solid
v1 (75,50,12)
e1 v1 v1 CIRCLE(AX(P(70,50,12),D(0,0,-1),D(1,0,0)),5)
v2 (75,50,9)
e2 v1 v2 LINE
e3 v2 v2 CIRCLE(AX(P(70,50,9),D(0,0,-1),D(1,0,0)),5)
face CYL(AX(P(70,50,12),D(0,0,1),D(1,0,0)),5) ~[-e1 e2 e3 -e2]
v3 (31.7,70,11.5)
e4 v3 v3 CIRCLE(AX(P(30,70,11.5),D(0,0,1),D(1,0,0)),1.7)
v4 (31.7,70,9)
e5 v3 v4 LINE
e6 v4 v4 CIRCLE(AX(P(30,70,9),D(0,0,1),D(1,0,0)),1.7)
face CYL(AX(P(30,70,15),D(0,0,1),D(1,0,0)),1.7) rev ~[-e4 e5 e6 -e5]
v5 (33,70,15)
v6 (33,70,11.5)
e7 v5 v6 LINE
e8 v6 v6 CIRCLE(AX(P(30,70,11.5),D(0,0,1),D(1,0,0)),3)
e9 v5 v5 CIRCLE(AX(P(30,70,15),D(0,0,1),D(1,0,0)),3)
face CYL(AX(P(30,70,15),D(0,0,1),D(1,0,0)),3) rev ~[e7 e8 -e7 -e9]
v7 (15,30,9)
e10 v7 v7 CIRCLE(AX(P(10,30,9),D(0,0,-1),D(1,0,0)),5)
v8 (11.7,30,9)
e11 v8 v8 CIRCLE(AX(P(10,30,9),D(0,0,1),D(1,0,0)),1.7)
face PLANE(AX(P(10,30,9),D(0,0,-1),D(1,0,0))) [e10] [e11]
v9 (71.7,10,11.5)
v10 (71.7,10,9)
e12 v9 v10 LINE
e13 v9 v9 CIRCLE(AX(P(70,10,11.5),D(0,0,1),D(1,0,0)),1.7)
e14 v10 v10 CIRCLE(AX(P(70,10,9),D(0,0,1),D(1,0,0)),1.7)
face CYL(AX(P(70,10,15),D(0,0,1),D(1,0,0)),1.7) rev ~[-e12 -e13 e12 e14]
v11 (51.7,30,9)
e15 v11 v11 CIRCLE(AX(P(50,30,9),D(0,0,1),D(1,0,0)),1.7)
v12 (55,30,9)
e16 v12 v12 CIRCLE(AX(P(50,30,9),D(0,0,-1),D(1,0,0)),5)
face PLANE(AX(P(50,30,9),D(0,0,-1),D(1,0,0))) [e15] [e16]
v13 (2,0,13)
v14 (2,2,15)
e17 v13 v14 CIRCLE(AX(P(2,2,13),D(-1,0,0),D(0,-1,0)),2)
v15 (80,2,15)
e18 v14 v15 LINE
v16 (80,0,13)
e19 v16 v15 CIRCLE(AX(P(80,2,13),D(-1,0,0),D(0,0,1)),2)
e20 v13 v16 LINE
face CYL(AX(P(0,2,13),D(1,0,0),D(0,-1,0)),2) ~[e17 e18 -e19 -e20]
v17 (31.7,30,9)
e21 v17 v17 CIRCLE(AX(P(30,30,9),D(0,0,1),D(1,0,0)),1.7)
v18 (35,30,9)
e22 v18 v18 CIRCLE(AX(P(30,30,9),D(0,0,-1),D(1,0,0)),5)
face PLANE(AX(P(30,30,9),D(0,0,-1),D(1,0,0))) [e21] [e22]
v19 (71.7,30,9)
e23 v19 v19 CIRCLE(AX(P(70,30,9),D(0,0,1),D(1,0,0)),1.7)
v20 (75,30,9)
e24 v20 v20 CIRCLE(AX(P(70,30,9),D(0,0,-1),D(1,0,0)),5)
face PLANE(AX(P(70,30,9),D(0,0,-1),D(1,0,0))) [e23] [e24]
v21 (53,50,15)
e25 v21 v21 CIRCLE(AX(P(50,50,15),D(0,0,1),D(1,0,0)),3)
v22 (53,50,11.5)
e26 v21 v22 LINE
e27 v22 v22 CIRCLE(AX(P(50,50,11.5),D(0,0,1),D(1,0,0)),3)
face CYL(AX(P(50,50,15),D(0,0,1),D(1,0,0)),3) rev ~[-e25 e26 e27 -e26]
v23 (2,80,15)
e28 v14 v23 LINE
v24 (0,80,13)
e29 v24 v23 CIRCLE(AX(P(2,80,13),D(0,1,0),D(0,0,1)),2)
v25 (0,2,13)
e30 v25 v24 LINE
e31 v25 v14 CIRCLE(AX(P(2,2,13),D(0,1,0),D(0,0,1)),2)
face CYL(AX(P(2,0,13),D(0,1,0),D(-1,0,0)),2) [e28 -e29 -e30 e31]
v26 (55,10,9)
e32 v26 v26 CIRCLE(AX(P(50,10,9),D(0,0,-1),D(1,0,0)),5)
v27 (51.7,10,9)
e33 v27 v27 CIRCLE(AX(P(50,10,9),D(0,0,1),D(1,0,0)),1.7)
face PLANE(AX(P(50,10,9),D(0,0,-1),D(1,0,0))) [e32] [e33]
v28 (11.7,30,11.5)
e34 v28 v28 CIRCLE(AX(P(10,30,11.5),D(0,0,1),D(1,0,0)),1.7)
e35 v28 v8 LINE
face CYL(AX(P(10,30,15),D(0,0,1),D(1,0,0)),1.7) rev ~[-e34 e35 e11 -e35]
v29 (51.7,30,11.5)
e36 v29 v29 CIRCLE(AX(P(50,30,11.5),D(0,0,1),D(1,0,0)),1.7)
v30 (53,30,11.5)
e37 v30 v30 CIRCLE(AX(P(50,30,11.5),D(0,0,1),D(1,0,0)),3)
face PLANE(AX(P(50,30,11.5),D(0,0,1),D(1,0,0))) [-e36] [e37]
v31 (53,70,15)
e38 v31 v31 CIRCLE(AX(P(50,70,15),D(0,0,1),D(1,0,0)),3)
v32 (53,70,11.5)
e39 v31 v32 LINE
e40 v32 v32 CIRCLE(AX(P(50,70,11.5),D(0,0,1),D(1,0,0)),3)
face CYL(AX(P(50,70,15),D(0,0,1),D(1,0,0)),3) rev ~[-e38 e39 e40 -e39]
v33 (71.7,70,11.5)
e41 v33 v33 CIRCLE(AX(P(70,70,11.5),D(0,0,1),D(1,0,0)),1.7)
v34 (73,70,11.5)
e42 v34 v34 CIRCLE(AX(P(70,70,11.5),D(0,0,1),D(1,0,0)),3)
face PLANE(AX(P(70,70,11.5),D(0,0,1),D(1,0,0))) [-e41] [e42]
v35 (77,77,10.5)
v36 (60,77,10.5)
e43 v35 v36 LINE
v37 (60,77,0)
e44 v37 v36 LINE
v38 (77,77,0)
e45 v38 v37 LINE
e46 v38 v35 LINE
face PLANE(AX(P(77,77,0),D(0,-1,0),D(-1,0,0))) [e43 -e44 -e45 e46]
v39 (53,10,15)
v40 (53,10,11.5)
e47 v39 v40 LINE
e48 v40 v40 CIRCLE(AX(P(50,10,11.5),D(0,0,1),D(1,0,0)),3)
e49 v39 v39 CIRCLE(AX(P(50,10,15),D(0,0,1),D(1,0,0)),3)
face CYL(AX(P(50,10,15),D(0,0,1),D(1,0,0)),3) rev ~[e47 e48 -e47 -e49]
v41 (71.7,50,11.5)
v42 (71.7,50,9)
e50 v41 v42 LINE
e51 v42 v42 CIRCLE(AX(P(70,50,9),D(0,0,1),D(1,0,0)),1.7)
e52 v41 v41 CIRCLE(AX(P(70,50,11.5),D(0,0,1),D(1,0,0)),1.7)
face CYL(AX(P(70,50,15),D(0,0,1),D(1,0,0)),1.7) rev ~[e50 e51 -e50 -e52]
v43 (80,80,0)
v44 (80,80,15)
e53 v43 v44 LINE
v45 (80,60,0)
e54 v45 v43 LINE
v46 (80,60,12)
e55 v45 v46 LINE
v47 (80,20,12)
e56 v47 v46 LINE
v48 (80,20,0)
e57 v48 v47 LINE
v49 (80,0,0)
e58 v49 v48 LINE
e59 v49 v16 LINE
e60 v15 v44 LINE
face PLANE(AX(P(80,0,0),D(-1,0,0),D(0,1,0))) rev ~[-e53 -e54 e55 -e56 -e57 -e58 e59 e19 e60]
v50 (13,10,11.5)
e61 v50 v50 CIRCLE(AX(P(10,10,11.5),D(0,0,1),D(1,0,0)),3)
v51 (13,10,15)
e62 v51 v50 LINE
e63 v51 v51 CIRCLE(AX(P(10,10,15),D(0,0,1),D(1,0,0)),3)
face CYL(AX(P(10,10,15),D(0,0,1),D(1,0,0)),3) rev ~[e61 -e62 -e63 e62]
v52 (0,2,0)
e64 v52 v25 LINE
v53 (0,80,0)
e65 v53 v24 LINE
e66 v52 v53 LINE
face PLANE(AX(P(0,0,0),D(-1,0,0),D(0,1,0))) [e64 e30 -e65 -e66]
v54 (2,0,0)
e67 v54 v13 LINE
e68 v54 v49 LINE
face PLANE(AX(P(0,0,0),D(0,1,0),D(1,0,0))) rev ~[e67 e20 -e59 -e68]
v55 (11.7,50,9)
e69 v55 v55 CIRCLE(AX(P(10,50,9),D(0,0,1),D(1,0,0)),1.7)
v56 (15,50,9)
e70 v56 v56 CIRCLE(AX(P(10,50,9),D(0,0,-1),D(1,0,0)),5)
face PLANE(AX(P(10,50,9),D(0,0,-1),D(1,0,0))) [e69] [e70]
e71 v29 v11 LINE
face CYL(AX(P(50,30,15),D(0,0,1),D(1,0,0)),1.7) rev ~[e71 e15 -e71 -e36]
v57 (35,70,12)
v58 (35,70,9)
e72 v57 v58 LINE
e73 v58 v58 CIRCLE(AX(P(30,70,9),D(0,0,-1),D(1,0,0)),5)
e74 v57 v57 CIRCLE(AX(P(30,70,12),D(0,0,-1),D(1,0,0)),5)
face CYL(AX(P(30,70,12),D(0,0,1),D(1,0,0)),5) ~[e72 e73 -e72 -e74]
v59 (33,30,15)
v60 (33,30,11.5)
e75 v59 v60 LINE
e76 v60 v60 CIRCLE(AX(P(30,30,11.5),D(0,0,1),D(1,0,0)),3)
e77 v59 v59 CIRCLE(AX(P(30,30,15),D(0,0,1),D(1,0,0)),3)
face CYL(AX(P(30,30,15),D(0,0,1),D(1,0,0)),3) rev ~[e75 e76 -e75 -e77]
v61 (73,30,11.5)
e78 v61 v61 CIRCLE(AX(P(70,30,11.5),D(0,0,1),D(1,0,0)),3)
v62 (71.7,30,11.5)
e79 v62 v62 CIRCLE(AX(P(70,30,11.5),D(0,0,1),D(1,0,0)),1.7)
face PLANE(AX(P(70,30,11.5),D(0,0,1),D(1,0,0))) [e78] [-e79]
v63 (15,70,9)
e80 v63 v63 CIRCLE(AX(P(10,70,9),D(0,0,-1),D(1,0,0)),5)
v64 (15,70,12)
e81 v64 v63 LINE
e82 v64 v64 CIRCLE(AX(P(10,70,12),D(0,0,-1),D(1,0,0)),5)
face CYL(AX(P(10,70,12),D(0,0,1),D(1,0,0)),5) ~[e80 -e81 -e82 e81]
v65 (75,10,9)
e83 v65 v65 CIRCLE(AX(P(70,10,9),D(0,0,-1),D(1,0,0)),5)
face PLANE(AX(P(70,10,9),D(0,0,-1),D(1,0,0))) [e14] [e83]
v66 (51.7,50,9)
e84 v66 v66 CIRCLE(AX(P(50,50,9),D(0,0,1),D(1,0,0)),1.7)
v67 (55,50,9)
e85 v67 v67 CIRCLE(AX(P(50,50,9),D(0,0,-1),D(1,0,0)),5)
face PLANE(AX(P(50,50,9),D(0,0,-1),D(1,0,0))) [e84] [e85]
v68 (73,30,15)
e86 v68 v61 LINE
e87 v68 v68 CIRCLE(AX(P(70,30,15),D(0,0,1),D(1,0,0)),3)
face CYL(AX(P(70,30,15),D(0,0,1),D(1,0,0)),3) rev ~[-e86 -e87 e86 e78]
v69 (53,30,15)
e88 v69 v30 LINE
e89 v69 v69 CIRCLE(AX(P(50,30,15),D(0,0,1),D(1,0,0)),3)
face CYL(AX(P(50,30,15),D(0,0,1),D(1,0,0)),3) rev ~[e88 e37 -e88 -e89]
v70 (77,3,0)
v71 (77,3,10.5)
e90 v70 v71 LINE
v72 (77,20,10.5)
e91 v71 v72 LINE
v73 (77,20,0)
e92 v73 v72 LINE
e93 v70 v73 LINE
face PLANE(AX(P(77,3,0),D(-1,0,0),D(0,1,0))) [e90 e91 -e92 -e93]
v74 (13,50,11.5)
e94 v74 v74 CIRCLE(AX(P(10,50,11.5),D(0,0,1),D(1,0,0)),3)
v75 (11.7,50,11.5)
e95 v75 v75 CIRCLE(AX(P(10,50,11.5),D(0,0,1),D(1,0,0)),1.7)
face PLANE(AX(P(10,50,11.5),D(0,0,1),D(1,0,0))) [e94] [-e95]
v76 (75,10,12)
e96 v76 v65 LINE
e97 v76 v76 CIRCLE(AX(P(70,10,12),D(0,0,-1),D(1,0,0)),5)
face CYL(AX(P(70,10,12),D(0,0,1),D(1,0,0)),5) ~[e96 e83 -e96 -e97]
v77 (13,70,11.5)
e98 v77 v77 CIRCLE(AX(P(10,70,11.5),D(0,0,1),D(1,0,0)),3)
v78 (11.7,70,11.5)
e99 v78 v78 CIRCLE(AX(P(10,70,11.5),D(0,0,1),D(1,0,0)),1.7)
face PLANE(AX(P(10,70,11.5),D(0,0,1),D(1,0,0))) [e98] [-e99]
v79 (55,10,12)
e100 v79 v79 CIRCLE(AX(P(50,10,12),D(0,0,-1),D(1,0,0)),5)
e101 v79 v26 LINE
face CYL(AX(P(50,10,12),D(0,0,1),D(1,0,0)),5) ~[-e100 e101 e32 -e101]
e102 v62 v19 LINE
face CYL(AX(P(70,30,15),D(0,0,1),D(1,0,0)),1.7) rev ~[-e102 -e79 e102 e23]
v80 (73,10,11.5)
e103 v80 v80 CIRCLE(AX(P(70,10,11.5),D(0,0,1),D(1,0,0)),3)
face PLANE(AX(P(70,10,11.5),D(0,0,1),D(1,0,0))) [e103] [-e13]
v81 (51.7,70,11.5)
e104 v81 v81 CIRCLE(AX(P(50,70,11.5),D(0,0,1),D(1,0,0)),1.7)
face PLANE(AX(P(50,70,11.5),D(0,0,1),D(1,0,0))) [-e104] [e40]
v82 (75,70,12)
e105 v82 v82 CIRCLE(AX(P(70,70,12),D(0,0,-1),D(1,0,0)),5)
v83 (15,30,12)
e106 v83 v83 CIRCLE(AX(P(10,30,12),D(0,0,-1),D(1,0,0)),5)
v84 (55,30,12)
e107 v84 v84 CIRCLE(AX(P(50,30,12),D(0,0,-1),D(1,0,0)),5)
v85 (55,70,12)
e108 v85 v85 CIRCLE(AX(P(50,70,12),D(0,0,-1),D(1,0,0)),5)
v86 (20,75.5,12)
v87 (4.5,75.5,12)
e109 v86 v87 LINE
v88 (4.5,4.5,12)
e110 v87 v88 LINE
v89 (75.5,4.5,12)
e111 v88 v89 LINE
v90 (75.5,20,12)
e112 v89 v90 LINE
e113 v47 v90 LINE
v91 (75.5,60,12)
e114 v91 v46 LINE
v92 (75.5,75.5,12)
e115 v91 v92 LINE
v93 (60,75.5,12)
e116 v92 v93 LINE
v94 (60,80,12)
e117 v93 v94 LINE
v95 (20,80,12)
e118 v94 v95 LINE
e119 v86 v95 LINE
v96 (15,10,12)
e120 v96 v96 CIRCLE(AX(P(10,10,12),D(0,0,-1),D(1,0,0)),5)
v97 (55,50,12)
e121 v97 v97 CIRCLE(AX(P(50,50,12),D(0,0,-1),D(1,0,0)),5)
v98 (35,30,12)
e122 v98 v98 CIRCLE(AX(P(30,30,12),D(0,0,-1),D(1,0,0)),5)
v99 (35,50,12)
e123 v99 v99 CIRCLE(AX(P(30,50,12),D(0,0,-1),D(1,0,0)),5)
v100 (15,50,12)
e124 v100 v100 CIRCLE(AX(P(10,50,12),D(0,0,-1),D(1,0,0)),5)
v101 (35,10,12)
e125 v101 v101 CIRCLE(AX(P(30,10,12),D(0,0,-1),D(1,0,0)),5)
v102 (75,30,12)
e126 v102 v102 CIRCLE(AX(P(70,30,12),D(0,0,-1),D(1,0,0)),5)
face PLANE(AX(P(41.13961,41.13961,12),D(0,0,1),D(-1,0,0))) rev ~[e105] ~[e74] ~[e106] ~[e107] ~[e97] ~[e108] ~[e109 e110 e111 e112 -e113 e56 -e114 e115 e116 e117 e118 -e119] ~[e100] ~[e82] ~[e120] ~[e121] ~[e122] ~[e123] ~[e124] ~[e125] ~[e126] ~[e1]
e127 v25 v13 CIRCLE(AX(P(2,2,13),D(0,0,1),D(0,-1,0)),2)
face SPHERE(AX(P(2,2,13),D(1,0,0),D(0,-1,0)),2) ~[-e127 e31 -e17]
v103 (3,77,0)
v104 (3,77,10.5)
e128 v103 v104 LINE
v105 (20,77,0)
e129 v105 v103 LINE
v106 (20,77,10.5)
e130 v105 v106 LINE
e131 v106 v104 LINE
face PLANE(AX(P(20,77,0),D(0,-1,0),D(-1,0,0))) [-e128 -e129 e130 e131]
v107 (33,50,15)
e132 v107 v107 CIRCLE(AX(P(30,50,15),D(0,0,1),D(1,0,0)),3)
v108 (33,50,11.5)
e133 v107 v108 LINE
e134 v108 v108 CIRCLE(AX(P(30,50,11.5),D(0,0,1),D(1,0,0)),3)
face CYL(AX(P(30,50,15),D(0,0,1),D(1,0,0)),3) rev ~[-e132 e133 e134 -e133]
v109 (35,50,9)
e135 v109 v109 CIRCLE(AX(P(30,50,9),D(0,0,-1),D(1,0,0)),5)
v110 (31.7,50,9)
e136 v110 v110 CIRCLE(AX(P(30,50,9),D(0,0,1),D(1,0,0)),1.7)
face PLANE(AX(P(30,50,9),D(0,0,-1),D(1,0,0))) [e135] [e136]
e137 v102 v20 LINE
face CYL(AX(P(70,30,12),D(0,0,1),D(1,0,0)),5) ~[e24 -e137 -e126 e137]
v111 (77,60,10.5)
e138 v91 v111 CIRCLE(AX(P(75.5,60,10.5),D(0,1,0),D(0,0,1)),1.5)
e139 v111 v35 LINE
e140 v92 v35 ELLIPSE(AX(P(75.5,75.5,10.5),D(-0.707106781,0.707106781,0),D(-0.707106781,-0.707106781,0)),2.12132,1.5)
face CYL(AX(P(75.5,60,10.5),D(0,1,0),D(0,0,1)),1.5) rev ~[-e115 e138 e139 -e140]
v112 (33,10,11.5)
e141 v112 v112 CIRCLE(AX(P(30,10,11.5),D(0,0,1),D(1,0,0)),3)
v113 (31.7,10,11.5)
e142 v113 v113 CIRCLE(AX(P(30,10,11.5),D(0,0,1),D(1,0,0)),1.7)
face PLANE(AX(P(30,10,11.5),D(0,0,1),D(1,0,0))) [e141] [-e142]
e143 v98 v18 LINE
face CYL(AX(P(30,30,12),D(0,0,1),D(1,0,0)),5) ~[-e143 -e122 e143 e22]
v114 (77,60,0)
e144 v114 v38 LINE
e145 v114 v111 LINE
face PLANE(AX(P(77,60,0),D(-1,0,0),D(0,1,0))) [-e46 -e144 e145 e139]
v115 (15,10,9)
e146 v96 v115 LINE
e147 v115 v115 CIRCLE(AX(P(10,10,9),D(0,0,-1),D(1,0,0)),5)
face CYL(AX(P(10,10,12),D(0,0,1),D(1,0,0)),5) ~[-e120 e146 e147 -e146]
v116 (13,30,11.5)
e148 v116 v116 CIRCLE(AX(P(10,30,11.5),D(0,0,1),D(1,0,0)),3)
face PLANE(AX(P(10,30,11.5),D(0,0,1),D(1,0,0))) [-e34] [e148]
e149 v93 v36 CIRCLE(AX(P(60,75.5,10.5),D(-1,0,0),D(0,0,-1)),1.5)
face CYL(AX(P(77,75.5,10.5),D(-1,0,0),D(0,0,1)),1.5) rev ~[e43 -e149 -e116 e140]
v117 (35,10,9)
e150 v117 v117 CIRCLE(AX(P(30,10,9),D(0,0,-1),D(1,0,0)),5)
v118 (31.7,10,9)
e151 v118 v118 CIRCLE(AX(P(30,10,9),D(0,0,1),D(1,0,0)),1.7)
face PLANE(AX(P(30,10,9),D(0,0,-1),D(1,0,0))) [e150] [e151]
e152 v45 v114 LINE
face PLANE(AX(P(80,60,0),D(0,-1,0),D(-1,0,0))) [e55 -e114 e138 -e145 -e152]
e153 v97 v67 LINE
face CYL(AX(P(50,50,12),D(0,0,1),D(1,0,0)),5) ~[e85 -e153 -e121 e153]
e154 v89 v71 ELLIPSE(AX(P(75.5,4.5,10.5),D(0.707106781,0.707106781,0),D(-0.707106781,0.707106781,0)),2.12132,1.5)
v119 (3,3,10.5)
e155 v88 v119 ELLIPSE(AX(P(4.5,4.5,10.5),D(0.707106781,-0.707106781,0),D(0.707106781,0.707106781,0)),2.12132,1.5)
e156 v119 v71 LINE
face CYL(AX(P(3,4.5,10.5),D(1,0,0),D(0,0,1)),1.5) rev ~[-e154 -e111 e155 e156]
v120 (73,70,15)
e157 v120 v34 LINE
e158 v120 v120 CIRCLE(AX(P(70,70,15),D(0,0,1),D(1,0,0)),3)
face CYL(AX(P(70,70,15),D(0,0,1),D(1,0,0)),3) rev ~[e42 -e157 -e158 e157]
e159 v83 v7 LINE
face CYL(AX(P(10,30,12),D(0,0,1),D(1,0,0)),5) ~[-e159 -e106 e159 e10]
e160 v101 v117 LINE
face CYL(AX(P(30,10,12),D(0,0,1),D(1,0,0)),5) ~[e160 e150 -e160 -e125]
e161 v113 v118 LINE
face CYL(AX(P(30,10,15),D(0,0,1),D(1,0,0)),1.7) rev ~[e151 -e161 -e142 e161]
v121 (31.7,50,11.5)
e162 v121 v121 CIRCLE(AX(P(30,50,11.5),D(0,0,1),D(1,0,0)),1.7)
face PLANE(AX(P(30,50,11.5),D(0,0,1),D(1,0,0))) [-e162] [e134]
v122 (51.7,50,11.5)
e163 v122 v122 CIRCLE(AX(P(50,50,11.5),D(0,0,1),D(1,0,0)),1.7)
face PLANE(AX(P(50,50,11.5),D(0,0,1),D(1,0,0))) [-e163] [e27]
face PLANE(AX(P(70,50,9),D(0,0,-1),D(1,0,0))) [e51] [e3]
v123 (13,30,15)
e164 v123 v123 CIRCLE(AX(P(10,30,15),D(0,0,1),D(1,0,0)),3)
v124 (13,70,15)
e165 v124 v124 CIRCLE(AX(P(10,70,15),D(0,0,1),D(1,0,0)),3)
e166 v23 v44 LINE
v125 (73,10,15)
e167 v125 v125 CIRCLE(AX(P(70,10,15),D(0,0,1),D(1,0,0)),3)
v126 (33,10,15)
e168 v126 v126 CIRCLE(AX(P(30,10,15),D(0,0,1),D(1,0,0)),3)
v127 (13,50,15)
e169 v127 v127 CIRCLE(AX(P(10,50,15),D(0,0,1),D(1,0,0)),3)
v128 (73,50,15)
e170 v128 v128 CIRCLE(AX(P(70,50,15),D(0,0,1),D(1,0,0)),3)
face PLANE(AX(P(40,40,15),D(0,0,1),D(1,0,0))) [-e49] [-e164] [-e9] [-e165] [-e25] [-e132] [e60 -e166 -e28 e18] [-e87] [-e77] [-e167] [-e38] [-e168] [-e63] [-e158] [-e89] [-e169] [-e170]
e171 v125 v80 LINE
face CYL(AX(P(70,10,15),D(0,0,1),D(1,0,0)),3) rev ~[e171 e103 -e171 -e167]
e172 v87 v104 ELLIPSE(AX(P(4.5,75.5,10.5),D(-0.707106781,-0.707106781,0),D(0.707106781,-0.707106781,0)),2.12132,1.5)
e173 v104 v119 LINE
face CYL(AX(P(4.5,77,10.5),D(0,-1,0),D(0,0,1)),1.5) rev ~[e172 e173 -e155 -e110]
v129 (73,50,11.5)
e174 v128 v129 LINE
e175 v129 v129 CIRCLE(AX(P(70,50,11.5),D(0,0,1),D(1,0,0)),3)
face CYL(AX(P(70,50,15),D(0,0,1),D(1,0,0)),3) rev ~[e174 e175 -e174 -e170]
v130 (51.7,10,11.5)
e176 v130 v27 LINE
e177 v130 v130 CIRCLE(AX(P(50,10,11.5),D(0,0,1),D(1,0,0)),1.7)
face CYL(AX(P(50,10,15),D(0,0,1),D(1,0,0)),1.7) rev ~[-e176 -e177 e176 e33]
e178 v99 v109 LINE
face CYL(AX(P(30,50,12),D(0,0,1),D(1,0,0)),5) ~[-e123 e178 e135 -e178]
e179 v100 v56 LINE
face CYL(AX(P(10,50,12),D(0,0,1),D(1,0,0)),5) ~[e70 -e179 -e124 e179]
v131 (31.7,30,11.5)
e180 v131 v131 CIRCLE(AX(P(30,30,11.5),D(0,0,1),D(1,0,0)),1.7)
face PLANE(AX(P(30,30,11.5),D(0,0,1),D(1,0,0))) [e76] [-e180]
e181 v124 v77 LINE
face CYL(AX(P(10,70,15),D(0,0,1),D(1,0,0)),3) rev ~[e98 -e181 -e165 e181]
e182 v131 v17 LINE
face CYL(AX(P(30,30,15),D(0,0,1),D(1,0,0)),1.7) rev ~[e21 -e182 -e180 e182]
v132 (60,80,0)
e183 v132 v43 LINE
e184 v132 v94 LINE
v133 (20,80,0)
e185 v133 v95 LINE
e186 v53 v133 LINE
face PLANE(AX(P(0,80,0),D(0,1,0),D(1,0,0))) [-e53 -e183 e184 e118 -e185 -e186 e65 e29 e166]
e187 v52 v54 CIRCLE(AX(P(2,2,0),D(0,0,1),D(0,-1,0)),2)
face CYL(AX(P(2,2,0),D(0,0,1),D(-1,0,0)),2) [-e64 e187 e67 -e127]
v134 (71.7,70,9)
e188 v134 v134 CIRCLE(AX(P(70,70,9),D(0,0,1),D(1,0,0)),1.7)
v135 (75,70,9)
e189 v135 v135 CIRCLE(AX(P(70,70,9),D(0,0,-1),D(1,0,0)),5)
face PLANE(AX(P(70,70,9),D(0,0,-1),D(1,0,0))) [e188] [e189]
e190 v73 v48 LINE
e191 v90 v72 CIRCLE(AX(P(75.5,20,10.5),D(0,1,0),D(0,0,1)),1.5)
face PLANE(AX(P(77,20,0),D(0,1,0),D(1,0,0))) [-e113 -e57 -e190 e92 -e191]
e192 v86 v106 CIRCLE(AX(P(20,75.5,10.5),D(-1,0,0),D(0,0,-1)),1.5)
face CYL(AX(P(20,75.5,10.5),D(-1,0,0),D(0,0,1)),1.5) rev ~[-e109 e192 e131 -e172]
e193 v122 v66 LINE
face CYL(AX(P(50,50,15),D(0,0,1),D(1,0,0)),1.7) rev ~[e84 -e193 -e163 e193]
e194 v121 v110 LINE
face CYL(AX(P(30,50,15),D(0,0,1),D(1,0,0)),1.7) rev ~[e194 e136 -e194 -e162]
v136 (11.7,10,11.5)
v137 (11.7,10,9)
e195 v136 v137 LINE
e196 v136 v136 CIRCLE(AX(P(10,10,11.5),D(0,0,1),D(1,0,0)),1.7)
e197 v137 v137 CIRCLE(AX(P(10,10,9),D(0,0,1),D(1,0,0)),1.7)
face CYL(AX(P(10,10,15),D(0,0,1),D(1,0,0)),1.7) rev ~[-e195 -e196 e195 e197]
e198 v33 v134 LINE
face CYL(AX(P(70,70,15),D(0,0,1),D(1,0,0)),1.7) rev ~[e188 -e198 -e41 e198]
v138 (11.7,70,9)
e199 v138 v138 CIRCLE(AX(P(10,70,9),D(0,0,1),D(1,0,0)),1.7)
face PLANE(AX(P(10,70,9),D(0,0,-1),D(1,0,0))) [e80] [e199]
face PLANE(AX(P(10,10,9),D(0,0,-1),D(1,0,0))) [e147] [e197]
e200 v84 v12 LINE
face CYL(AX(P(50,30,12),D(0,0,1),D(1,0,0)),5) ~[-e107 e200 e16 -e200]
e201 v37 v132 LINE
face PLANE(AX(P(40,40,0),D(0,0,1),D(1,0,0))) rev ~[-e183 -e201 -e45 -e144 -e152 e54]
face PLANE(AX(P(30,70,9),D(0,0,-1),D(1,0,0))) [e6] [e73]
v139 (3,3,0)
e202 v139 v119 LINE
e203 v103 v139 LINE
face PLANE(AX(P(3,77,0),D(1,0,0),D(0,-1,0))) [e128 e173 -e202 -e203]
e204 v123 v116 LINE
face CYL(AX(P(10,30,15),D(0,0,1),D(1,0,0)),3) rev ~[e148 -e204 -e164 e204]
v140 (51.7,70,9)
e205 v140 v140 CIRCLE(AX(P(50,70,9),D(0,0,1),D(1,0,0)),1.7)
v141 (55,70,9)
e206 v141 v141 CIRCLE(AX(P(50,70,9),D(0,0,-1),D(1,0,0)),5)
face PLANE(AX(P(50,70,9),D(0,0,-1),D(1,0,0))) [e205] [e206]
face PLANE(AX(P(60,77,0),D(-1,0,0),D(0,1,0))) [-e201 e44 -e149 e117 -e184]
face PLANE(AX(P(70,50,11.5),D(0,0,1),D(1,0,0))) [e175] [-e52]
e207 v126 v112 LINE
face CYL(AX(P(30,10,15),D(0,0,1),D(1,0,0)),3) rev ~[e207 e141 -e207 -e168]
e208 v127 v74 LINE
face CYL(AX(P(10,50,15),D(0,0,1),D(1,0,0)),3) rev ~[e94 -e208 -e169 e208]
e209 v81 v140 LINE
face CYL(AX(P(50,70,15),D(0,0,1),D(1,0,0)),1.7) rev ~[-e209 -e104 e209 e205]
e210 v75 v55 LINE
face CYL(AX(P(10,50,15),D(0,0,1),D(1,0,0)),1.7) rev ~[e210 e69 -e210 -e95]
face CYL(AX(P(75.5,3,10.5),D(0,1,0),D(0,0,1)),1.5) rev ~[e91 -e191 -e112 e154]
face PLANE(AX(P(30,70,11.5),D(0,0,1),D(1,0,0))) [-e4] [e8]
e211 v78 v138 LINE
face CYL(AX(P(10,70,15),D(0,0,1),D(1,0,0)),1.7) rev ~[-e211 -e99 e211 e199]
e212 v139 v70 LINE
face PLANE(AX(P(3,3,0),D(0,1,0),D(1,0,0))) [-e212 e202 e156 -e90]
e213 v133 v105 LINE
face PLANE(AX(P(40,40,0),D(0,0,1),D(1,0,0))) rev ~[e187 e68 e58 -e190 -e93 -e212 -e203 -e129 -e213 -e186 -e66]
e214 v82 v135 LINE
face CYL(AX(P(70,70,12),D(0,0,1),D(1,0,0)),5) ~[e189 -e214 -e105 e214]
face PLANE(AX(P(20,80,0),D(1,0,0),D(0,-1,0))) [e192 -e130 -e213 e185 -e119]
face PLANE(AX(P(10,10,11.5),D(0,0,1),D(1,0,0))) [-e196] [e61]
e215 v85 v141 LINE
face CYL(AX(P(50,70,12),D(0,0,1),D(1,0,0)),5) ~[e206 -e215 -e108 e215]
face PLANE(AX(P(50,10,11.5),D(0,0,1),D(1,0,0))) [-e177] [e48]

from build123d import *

# Parameters (mm, degrees)
SKETCH_W        = 80
SKETCH_H        = 80
PAD_DEPTH       = 15
POCKET_DEPTH    = 12
SKETCH006_R     = 5
PAD001_DEPTH    = 3
SKETCH004_R     = 1.7
POCKET001_DEPTH = 10
SKETCH009_R     = 3
POCKET002_DEPTH = 3.5
FILLET_R        = 2
FILLET001_R     = 1.5


with BuildPart() as part:
    # Sketch → Pad (new body)
    with BuildSketch(Plane.XY):
        with Locations((40, 40)):
            Rectangle(SKETCH_W, SKETCH_H)
    extrude(amount=PAD_DEPTH)

    # Sketch003 (on Face5 of Pad) → Pocket (cut)
    with BuildSketch(Plane(origin=(0, 0, 0), x_dir=(1, 0, 0), z_dir=(0, 0, -1))):
        Polygon((3, -3), (77, -3), (77, -20), (80, -20), (80, -60), (77, -60), (77, -77), (60, -77), (60, -80), (20, -80), (20, -77), (3, -77), align=None)
    extrude(amount=-POCKET_DEPTH, mode=Mode.SUBTRACT)

    # Sketch006 (on Face4 of Pocket) → Pad001 (join)
    with BuildSketch(Plane(origin=(0, 0, 12), x_dir=(1, 0, 0), z_dir=(0, 0, -1))):
        with Locations((10, -10)):
            Circle(SKETCH006_R)
        with Locations((30, -10)):
            Circle(SKETCH006_R)
        with Locations((50, -10)):
            Circle(SKETCH006_R)
        with Locations((70, -10)):
            Circle(SKETCH006_R)
        with Locations((10, -30)):
            Circle(SKETCH006_R)
        with Locations((30, -30)):
            Circle(SKETCH006_R)
        with Locations((50, -30)):
            Circle(SKETCH006_R)
        with Locations((70, -30)):
            Circle(SKETCH006_R)
        with Locations((10, -50)):
            Circle(SKETCH006_R)
        with Locations((30, -50)):
            Circle(SKETCH006_R)
        with Locations((50, -50)):
            Circle(SKETCH006_R)
        with Locations((70, -50)):
            Circle(SKETCH006_R)
        with Locations((10, -70)):
            Circle(SKETCH006_R)
        with Locations((30, -70)):
            Circle(SKETCH006_R)
        with Locations((50, -70)):
            Circle(SKETCH006_R)
        with Locations((70, -70)):
            Circle(SKETCH006_R)
    extrude(amount=PAD001_DEPTH)

    # Sketch004 (on Face8 of Pad001) → Pocket001 (cut)
    with BuildSketch(Plane.XY.offset(15)):
        with Locations((10, 10)):
            Circle(SKETCH004_R)
        with Locations((10, 30)):
            Circle(SKETCH004_R)
        with Locations((10, 50)):
            Circle(SKETCH004_R)
        with Locations((10, 70)):
            Circle(SKETCH004_R)
        with Locations((30, 10)):
            Circle(SKETCH004_R)
        with Locations((30, 30)):
            Circle(SKETCH004_R)
        with Locations((30, 50)):
            Circle(SKETCH004_R)
        with Locations((30, 70)):
            Circle(SKETCH004_R)
        with Locations((50, 10)):
            Circle(SKETCH004_R)
        with Locations((50, 30)):
            Circle(SKETCH004_R)
        with Locations((50, 50)):
            Circle(SKETCH004_R)
        with Locations((50, 70)):
            Circle(SKETCH004_R)
        with Locations((70, 10)):
            Circle(SKETCH004_R)
        with Locations((70, 30)):
            Circle(SKETCH004_R)
        with Locations((70, 50)):
            Circle(SKETCH004_R)
        with Locations((70, 70)):
            Circle(SKETCH004_R)
    extrude(amount=-POCKET001_DEPTH, mode=Mode.SUBTRACT)

    # Sketch009 (on Face8 of Pocket001) → Pocket002 (cut)
    with BuildSketch(Plane.XY.offset(15)):
        with Locations((10, 10)):
            Circle(SKETCH009_R)
        with Locations((10, 30)):
            Circle(SKETCH009_R)
        with Locations((10, 50)):
            Circle(SKETCH009_R)
        with Locations((10, 70)):
            Circle(SKETCH009_R)
        with Locations((30, 10)):
            Circle(SKETCH009_R)
        with Locations((30, 30)):
            Circle(SKETCH009_R)
        with Locations((30, 50)):
            Circle(SKETCH009_R)
        with Locations((30, 70)):
            Circle(SKETCH009_R)
        with Locations((50, 10)):
            Circle(SKETCH009_R)
        with Locations((50, 30)):
            Circle(SKETCH009_R)
        with Locations((50, 50)):
            Circle(SKETCH009_R)
        with Locations((50, 70)):
            Circle(SKETCH009_R)
        with Locations((70, 10)):
            Circle(SKETCH009_R)
        with Locations((70, 30)):
            Circle(SKETCH009_R)
        with Locations((70, 50)):
            Circle(SKETCH009_R)
        with Locations((70, 70)):
            Circle(SKETCH009_R)
    extrude(amount=-POCKET002_DEPTH, mode=Mode.SUBTRACT)

    # Fillet
    fillet_edges = [part.edges().sort_by_distance(p)[0] for p in [
        (40, 0, 15),
        (0, 0, 7.5),
        (0, 40, 15),
    ]]
    fillet(fillet_edges, radius=FILLET_R)

    # Fillet001
    fillet001_edges = [part.edges().sort_by_distance(p)[0] for p in [
        (68.5, 77, 12),
        (77, 68.5, 12),
        (77, 11.5, 12),
        (40, 3, 12),
        (3, 40, 12),
        (11.5, 77, 12),
    ]]
    fillet(fillet001_edges, radius=FILLET001_R)


solid = part.part
